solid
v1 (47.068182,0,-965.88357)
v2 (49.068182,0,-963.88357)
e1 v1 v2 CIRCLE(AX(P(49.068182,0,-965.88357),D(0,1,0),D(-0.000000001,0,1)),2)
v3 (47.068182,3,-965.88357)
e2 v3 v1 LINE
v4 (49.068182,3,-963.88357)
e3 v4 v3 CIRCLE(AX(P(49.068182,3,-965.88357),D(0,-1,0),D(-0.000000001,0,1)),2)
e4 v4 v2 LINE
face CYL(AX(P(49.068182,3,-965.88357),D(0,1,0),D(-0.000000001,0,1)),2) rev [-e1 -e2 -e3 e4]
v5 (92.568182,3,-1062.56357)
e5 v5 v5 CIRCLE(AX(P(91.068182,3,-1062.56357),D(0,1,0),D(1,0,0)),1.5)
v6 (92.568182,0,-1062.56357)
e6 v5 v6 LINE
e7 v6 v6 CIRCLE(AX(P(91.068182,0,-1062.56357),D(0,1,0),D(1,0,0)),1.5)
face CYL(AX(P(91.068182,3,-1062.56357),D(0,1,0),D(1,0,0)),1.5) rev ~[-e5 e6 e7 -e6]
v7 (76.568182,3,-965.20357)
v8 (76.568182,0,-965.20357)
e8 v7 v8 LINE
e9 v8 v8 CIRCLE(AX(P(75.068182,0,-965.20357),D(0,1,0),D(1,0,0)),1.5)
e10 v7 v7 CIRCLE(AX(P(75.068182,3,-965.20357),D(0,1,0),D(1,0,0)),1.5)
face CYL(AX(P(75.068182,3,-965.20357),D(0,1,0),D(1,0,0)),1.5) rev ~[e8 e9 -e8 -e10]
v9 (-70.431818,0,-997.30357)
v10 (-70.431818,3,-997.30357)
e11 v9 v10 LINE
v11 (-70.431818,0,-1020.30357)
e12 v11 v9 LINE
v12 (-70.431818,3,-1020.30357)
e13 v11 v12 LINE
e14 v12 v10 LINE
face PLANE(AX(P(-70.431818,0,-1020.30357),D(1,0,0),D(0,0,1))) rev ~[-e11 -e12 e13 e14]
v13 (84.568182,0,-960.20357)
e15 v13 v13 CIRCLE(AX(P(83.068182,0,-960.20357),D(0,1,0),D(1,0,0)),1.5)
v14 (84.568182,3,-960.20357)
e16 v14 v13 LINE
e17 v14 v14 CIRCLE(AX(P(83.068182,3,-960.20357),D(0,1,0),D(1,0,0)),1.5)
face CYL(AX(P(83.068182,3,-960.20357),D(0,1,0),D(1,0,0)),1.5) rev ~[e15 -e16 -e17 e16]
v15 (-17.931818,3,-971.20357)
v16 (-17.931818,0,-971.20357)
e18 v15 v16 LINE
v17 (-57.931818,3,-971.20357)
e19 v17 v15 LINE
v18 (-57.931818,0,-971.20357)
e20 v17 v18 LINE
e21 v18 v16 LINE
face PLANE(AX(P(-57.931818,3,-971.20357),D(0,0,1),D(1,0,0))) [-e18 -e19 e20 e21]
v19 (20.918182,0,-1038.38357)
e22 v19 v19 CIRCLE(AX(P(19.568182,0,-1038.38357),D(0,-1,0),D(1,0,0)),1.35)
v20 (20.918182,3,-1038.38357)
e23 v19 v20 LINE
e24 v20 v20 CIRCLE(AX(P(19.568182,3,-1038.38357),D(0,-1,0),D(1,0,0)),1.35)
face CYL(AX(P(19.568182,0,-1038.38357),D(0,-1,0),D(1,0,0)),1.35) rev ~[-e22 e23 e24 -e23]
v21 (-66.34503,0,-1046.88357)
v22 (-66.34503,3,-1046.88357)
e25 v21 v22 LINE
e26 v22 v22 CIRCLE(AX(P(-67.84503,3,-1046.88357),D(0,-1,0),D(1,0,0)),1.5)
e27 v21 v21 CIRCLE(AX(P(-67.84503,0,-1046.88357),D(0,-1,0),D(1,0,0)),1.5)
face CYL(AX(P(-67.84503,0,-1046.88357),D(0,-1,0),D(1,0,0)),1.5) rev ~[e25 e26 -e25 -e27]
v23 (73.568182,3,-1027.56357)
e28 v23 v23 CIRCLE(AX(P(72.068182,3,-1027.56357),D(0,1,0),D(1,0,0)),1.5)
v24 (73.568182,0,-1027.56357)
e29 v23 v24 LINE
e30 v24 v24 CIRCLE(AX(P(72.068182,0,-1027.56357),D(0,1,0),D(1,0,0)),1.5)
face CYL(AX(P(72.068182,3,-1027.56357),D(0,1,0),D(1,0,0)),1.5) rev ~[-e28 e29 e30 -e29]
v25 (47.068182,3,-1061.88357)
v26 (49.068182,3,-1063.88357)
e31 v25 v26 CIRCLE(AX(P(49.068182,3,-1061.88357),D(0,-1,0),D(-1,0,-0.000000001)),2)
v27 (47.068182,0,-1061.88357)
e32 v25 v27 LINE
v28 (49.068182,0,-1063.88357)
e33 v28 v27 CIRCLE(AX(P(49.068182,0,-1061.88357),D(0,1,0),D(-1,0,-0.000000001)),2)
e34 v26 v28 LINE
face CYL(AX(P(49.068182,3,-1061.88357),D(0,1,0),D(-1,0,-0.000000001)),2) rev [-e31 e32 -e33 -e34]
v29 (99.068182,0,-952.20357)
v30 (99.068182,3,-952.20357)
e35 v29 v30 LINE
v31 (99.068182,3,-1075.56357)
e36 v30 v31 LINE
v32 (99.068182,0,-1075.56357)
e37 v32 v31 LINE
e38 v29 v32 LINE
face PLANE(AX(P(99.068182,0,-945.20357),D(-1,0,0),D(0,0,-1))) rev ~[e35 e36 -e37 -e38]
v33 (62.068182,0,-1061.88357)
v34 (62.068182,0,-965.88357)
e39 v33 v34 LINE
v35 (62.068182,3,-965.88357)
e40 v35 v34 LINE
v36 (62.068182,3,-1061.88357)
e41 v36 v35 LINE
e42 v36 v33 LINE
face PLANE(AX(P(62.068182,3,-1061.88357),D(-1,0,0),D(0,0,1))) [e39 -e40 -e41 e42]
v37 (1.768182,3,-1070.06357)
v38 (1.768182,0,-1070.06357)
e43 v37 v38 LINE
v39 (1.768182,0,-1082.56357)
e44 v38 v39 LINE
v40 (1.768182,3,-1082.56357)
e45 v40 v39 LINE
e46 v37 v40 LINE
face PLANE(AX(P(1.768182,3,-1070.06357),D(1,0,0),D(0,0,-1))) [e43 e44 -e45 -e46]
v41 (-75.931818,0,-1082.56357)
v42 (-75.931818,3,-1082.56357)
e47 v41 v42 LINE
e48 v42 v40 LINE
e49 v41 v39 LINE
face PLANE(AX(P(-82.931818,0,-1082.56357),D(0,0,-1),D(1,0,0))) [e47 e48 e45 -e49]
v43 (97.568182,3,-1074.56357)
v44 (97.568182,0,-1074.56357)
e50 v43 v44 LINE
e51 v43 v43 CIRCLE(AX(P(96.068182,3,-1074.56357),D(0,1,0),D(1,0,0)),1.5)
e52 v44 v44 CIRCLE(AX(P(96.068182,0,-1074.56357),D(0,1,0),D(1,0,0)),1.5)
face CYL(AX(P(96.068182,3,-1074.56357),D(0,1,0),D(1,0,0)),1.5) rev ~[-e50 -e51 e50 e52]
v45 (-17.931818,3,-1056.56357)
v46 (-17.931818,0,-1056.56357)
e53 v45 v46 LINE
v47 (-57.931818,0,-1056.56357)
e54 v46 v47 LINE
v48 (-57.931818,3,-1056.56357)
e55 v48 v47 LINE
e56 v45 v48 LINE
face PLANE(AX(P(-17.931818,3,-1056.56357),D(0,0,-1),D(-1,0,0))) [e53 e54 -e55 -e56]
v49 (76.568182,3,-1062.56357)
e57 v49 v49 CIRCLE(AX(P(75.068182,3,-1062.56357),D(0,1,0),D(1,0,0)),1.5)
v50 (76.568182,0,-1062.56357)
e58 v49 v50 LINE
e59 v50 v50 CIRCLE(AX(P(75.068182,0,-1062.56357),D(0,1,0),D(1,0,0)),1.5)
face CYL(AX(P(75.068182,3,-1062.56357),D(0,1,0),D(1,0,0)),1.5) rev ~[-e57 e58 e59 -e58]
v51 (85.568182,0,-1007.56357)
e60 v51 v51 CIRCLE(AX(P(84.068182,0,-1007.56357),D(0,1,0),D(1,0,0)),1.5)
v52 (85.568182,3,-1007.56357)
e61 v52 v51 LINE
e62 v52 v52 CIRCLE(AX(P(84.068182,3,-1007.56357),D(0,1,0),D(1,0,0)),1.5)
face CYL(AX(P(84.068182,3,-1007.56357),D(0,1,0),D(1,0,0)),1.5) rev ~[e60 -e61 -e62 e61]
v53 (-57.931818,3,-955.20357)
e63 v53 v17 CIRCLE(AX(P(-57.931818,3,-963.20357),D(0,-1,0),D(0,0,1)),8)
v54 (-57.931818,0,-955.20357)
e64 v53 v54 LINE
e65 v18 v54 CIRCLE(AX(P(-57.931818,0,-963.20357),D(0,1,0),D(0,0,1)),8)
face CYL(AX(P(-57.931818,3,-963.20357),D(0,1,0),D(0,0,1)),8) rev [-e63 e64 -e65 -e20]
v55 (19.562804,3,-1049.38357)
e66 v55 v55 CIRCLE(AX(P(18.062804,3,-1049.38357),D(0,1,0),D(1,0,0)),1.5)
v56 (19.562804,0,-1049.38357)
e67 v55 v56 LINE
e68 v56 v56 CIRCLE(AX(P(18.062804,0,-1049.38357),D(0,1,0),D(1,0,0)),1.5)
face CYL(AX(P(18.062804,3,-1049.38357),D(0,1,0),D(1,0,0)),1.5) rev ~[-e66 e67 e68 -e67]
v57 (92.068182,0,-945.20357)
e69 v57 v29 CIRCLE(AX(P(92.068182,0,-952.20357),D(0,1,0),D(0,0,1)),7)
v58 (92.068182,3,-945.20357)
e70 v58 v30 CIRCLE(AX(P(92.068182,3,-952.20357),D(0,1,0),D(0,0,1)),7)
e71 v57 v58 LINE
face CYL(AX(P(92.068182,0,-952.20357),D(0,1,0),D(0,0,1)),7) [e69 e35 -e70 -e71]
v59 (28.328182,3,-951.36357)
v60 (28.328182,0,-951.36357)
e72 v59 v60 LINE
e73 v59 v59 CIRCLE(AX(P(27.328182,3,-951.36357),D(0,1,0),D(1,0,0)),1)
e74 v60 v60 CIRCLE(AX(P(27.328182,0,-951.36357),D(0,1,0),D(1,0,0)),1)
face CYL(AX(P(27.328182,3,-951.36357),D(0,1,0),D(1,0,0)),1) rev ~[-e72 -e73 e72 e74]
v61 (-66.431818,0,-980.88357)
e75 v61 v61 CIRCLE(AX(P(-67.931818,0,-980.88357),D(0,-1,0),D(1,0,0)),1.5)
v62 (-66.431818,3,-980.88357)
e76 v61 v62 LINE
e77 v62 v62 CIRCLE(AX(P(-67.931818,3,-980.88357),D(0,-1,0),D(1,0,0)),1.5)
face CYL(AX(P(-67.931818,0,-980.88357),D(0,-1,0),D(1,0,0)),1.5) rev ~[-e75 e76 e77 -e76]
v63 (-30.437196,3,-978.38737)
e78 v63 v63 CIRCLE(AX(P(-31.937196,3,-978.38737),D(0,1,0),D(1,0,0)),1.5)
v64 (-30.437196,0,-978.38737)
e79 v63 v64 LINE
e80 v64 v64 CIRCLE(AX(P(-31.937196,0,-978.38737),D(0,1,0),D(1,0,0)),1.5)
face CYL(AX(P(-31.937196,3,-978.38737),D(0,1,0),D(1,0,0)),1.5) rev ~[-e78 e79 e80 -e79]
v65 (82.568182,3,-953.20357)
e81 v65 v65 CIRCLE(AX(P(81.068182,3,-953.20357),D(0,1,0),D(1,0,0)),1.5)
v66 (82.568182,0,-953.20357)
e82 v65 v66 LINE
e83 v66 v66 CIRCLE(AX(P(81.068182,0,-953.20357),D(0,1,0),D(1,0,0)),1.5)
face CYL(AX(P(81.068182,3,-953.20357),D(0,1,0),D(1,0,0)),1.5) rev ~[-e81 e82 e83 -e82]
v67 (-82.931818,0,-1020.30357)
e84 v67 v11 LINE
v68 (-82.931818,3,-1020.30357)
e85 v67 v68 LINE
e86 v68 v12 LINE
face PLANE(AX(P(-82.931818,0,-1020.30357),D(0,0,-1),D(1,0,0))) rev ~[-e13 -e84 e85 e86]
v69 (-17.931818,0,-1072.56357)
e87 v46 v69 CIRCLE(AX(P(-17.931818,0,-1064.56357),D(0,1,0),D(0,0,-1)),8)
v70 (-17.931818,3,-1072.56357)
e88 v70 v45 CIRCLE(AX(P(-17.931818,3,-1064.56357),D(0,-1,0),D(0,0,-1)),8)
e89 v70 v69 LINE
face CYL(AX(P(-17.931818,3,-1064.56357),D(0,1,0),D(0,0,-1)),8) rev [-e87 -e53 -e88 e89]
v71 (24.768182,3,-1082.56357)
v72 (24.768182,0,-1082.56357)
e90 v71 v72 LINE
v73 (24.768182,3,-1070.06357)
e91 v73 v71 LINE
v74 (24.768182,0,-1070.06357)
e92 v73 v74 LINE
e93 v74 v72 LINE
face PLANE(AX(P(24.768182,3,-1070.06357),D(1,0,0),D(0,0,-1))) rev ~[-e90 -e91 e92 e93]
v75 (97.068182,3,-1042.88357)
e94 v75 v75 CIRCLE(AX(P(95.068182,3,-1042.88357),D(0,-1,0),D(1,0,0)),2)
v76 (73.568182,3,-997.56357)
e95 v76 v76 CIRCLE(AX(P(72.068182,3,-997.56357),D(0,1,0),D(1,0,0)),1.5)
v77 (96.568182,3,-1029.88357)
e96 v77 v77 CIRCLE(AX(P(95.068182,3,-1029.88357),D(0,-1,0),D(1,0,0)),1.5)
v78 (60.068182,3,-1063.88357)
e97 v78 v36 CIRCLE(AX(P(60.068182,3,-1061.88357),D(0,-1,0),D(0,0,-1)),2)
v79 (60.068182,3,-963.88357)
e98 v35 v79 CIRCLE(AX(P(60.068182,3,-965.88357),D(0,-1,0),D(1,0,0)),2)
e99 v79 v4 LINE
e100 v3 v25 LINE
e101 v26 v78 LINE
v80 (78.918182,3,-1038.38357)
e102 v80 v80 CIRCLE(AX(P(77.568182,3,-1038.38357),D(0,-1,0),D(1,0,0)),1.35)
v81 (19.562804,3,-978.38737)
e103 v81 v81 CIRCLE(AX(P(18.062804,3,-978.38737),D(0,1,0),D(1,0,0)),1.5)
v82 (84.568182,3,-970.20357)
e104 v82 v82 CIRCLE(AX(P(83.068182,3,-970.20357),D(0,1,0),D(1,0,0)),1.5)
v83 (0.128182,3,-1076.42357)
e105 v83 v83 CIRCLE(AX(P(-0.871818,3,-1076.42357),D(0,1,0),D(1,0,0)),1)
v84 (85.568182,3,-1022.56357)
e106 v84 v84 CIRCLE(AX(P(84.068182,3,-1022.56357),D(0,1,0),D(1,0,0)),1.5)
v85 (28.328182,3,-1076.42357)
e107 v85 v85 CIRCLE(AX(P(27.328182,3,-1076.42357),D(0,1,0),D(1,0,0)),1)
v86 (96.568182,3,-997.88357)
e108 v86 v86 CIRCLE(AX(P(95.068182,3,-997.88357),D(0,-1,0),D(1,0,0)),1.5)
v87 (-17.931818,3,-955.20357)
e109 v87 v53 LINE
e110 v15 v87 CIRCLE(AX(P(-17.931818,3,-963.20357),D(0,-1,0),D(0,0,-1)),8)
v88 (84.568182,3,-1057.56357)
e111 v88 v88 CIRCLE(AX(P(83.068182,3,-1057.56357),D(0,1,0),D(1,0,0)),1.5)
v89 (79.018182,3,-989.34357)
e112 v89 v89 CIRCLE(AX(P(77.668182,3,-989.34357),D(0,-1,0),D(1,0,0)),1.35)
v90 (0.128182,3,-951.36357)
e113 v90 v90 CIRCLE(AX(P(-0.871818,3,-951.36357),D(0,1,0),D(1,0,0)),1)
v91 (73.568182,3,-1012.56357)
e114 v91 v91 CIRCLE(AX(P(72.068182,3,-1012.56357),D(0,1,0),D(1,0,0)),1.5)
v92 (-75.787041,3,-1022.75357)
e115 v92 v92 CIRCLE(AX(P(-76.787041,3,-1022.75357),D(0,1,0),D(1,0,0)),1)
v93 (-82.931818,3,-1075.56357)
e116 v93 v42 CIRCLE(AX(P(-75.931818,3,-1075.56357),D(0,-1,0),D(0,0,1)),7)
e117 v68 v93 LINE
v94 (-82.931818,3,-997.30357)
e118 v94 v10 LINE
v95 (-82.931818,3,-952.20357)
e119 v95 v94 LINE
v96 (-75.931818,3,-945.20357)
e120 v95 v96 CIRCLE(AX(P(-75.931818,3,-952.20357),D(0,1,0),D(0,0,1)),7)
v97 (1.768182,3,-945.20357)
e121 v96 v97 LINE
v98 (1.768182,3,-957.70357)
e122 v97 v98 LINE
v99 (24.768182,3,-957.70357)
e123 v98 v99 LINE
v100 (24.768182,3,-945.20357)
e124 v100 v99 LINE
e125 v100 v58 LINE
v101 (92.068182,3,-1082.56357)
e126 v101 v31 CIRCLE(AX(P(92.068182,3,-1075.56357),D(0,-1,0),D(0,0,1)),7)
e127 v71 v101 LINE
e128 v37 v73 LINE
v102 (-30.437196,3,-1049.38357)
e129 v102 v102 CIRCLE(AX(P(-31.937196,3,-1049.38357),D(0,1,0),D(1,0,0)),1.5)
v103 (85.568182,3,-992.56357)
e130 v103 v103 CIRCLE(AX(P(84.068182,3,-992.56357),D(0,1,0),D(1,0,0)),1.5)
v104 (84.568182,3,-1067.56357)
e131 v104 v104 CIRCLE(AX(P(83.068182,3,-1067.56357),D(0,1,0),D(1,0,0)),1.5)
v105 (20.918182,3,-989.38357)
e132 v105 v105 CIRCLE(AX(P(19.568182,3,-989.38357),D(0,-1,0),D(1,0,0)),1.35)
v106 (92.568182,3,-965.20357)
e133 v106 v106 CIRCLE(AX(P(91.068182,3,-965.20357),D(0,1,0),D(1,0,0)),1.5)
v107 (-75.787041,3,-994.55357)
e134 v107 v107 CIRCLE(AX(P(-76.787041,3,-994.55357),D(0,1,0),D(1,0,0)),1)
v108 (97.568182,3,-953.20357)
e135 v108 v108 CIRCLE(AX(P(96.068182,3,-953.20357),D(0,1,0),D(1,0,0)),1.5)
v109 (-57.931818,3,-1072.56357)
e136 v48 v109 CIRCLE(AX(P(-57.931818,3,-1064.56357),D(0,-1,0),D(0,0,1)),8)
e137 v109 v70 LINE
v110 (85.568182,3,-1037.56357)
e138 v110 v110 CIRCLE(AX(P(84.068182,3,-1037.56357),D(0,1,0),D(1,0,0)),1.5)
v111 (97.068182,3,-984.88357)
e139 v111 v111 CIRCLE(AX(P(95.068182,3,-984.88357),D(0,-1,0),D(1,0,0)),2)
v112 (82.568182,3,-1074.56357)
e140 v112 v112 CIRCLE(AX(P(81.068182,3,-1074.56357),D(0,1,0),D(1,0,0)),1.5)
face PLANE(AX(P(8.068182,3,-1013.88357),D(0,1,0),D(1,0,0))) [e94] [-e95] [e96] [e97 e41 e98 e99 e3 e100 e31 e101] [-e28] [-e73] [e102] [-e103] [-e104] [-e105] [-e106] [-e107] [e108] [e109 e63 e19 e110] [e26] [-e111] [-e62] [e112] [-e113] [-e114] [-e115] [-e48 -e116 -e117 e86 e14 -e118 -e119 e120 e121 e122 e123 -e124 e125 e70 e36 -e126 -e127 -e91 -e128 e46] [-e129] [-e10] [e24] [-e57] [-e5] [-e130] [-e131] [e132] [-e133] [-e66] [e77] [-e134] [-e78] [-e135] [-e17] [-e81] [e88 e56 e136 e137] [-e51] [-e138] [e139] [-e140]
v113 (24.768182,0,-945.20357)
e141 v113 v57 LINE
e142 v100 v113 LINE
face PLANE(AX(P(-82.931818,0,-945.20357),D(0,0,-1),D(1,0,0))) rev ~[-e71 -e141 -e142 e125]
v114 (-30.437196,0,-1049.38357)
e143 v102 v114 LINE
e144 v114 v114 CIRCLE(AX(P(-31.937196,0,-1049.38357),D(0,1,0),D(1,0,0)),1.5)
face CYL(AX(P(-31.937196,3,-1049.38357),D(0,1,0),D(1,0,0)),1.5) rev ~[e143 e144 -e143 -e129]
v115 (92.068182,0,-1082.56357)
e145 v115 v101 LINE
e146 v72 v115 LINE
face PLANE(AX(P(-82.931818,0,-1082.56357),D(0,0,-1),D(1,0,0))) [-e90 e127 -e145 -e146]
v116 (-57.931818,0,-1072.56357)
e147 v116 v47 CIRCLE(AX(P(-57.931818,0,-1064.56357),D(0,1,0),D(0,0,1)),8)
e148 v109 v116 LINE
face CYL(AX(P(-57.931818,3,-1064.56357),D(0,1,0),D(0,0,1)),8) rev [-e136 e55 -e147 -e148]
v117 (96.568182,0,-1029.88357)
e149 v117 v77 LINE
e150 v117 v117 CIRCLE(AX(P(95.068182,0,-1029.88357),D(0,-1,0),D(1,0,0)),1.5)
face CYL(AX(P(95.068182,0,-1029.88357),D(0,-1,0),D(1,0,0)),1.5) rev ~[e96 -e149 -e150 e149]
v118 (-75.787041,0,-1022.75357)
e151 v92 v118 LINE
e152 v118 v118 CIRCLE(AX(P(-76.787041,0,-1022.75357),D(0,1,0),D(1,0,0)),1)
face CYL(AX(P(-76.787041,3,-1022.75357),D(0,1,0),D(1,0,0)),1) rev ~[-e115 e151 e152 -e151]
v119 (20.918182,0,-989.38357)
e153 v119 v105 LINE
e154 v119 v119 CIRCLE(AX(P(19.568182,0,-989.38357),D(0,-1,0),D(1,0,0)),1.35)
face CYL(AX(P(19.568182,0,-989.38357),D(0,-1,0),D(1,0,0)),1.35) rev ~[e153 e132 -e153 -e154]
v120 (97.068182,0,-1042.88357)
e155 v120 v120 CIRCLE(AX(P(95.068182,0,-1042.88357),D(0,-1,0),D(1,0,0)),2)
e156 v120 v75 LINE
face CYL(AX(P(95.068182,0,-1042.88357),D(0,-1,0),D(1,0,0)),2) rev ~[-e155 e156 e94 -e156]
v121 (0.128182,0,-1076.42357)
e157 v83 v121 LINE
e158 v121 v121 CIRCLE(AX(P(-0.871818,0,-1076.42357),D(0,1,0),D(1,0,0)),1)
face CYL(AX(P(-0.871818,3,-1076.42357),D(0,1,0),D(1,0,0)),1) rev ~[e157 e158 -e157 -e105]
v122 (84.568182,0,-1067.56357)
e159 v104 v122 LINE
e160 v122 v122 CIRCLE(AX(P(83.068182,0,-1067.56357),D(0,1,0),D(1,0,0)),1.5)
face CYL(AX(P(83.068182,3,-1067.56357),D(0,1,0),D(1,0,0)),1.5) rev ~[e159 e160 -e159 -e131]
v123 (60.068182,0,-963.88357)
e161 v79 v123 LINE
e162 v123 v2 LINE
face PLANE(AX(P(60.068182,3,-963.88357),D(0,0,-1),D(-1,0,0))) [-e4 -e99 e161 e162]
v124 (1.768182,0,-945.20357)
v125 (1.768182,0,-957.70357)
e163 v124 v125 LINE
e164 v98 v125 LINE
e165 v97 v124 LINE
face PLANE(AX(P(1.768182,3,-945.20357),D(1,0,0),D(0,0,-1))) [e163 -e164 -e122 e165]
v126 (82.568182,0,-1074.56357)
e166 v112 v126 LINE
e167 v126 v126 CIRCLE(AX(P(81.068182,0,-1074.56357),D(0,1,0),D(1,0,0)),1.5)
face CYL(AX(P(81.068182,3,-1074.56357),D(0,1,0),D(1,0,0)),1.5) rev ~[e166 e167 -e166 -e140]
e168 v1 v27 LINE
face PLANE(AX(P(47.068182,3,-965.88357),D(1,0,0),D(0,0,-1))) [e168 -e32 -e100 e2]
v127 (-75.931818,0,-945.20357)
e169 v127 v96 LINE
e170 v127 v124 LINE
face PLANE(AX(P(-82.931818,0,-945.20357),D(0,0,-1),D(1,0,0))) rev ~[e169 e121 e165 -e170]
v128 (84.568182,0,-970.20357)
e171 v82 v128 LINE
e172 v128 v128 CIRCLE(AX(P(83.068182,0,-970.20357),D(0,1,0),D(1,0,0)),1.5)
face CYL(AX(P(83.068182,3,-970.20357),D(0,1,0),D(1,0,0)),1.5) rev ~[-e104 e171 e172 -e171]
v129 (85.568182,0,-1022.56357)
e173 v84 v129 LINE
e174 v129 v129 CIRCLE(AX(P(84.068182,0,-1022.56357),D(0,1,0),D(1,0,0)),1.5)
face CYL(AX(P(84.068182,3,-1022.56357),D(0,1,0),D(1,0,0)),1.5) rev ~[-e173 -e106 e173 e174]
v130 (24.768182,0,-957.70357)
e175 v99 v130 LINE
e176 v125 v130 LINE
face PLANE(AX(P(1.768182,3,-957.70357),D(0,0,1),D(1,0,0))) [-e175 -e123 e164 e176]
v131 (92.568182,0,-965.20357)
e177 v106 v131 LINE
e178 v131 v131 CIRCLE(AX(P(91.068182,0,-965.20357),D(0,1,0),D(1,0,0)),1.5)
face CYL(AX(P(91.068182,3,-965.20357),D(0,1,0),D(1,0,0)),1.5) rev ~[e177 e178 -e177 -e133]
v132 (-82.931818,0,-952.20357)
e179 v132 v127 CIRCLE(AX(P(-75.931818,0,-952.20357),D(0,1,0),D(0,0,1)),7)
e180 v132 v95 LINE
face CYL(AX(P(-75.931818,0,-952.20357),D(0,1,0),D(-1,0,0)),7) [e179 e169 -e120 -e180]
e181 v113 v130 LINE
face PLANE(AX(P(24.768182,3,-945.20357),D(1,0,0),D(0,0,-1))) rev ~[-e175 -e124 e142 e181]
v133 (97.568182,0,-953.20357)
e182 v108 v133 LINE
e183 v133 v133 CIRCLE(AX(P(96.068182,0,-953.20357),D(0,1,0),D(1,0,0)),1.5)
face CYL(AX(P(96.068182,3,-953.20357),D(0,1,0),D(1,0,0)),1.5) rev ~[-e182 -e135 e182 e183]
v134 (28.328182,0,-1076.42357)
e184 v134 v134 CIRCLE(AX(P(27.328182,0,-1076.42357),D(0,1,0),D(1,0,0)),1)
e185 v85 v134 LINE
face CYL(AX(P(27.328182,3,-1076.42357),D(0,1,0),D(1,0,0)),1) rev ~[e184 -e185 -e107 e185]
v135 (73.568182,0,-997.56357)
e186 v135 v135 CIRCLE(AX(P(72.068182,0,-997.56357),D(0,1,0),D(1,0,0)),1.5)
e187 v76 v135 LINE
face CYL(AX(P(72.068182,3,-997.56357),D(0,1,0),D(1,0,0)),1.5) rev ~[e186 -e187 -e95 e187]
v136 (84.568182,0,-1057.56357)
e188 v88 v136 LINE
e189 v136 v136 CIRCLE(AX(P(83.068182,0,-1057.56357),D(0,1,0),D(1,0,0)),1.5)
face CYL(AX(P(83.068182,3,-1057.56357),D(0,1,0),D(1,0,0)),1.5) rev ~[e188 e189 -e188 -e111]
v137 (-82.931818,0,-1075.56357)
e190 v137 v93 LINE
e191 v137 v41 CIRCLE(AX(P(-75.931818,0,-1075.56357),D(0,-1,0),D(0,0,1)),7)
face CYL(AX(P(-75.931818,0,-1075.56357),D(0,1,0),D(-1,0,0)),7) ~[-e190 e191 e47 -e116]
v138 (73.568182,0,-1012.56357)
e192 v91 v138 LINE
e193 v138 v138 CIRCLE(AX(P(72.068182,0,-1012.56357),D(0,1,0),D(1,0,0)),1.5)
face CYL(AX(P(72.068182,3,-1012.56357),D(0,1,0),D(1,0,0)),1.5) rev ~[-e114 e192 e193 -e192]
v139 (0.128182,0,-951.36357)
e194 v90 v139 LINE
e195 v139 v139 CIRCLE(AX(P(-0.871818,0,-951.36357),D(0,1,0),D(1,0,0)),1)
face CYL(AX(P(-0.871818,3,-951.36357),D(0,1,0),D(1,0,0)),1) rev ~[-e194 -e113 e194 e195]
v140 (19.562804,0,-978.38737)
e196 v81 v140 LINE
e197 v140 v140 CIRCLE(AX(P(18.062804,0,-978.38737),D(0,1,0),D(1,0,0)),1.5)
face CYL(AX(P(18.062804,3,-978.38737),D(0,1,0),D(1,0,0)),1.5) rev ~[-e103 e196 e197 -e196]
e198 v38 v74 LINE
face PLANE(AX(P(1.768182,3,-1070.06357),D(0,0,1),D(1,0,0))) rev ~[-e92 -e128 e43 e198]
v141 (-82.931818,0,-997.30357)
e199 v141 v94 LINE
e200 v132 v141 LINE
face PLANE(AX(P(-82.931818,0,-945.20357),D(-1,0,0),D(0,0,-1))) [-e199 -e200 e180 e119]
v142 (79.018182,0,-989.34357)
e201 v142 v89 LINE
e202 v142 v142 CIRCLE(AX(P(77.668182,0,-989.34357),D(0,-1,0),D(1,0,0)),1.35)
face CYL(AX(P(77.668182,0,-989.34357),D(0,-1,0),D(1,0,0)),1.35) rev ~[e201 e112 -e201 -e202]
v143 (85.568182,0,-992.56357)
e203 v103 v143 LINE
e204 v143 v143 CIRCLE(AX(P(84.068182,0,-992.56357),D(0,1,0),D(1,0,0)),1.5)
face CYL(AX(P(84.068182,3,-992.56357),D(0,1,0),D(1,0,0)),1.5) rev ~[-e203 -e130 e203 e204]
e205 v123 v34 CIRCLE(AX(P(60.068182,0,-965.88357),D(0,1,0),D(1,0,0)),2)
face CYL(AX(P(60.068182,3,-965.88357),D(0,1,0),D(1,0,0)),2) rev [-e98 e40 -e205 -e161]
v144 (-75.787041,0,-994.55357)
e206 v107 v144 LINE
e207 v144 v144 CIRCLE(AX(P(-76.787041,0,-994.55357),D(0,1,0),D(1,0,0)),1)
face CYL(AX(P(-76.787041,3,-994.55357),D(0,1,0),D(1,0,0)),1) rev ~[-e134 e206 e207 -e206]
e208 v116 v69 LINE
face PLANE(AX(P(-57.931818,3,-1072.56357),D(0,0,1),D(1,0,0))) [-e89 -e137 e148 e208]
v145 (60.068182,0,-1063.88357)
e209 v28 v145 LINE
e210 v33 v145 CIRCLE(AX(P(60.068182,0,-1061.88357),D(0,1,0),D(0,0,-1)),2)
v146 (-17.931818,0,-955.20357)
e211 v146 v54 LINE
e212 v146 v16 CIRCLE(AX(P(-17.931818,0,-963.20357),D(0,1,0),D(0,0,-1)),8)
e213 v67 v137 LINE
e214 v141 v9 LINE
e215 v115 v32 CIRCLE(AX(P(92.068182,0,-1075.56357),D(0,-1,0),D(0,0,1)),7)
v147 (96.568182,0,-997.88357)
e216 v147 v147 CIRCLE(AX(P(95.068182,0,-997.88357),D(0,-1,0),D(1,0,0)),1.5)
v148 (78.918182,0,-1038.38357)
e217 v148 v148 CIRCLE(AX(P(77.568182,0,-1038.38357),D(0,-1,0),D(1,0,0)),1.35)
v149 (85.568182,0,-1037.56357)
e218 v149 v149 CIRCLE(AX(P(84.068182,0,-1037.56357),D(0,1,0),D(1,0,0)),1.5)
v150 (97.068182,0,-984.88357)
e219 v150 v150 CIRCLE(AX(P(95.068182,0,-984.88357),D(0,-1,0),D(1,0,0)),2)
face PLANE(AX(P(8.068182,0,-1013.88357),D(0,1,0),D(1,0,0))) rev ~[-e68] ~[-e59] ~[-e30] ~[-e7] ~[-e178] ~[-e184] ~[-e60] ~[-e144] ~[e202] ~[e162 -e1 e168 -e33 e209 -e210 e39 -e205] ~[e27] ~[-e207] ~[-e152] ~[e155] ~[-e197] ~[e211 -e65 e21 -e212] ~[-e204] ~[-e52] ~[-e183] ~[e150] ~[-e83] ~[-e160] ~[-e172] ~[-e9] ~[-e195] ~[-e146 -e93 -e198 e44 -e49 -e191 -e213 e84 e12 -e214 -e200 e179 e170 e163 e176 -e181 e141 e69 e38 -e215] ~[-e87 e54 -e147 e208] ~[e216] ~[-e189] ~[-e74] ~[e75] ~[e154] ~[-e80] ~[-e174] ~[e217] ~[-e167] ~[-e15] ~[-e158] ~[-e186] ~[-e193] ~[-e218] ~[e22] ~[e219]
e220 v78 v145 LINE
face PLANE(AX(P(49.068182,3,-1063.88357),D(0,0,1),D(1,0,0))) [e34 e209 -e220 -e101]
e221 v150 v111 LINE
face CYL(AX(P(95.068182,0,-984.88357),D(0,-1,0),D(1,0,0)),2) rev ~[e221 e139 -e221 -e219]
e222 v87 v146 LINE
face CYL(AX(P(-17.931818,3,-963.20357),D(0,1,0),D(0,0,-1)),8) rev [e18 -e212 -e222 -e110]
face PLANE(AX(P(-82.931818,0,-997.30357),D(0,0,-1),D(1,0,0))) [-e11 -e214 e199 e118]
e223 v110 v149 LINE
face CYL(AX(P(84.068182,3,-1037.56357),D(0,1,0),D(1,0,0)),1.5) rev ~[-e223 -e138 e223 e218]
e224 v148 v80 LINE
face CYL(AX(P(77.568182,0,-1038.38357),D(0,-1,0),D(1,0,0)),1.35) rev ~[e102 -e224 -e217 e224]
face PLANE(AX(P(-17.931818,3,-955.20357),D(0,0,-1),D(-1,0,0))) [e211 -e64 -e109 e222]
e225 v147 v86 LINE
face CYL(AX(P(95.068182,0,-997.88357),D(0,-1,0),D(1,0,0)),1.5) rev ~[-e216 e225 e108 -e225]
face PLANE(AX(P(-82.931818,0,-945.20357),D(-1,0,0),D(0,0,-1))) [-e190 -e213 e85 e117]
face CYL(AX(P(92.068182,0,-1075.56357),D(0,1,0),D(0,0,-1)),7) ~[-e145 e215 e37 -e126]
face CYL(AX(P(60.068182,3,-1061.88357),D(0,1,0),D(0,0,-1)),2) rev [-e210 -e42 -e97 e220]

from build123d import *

# Parameters (mm, degrees)
SKETCH1_W           = 182
SKETCH1_H           = 137.36
BOSS_EXTRUDE1_DEPTH = 3
SKETCH2_R           = 1.5
CUT_EXTRUDE1_DEPTH  = 4
SKETCH3_R           = 1
CUT_EXTRUDE2_DEPTH  = 4
SKETCH4_W           = 23
SKETCH4_H           = 12.5
CUT_EXTRUDE3_DEPTH  = 4
SKETCH5_R           = 1.35
CUT_EXTRUDE4_DEPTH  = 4
SKETCH6_R           = 1.5
CUT_EXTRUDE5_DEPTH  = 4
CUT_EXTRUDE6_DEPTH  = 4
FILLET1_R           = 7
SKETCH10_R          = 1.5
CUT_EXTRUDE9_DEPTH  = 4
SKETCH11_R          = 1.5
CUT_EXTRUDE10_DEPTH = 4
CUT_EXTRUDE11_REACH = 5
SKETCH13_W          = 12.5
SKETCH13_H          = 23
SKETCH14_R          = 1
CUT_EXTRUDE12_DEPTH = 4
SKETCH15_R          = 2
CUT_EXTRUDE13_DEPTH = 4
SKETCH16_R          = 1.5
CUT_EXTRUDE14_DEPTH = 4


with BuildPart() as part:
    # Sketch1 → Boss-Extrude1 (new body)
    with BuildSketch(Plane(origin=(0, 0, 0), x_dir=(1, 0, 0), z_dir=(0, 1, 0))):
        with Locations((8.068181818, 1013.883570356)):
            Rectangle(SKETCH1_W, SKETCH1_H)
    extrude(amount=BOSS_EXTRUDE1_DEPTH)

    # Sketch2 → Cut-Extrude1 (cut, through all)
    with BuildSketch(Plane.XZ):
        with Locations((95.068181818, -1029.883570356)):
            Circle(SKETCH2_R)
        with Locations((95.068181818, -997.883570356)):
            Circle(SKETCH2_R)
    extrude(amount=-CUT_EXTRUDE1_DEPTH, mode=Mode.SUBTRACT)

    # Sketch3 → Cut-Extrude2 (cut, through all)
    with BuildSketch(Plane(origin=(0, 3, 0), x_dir=(1, 0, 0), z_dir=(0, 1, 0))):
        with Locations((27.328181818, 1076.423570356)):
            Circle(SKETCH3_R)
        with Locations((-0.871818182, 1076.423570356)):
            Circle(SKETCH3_R)
        with Locations((-0.871818182, 951.363570356)):
            Circle(SKETCH3_R)
        with Locations((27.328181818, 951.363570356)):
            Circle(SKETCH3_R)
    extrude(amount=-CUT_EXTRUDE2_DEPTH, mode=Mode.SUBTRACT)

    # Sketch4 → Cut-Extrude3 (cut, through all)
    with BuildSketch(Plane(origin=(0, 3, 0), x_dir=(1, 0, 0), z_dir=(0, 1, 0))):
        with Locations((13.268181818, 951.453570356)):
            Rectangle(SKETCH4_W, SKETCH4_H)
        with Locations((13.268181818, 1076.313570356)):
            Rectangle(SKETCH4_W, SKETCH4_H)
    extrude(amount=-CUT_EXTRUDE3_DEPTH, mode=Mode.SUBTRACT)

    # Sketch5 → Cut-Extrude4 (cut, through all)
    with BuildSketch(Plane.XZ):
        with Locations((77.568181818, -1038.383570356)):
            Circle(SKETCH5_R)
        with Locations((77.668181818, -989.343570356)):
            Circle(SKETCH5_R)
        with Locations((19.568181818, -1038.383570356)):
            Circle(SKETCH5_R)
        with Locations((19.568181818, -989.383570356)):
            Circle(SKETCH5_R)
    extrude(amount=-CUT_EXTRUDE4_DEPTH, mode=Mode.SUBTRACT)

    # Sketch6 → Cut-Extrude5 (cut, through all)
    with BuildSketch(Plane(origin=(0, 3, 0), x_dir=(1, 0, 0), z_dir=(0, 1, 0))):
        with Locations((18.062803793, 1049.383570356)):
            Circle(SKETCH6_R)
        with Locations((-31.937196207, 1049.383570356)):
            Circle(SKETCH6_R)
        with Locations((-31.937196207, 978.387370356)):
            Circle(SKETCH6_R)
        with Locations((18.062803793, 978.387370356)):
            Circle(SKETCH6_R)
    extrude(amount=-CUT_EXTRUDE5_DEPTH, mode=Mode.SUBTRACT)

    # Sketch7 → Cut-Extrude6 (cut, through all)
    with BuildSketch(Plane(origin=(0, 3, 0), x_dir=(1, 0, 0), z_dir=(0, 1, 0))):
        with BuildLine():
            Line((49.068181818, 1063.883570356), (60.068181818, 1063.883570356))
            ThreePointArc((60.068181818, 1063.883570356), (61.482395381, 1063.297783918), (62.068181818, 1061.883570356))
            Line((62.068181818, 1061.883570356), (62.068181818, 965.883570356))
            ThreePointArc((62.068181818, 965.883570356), (61.482395381, 964.469356794), (60.068181818, 963.883570356))
            Line((60.068181818, 963.883570356), (49.068181818, 963.883570356))
            ThreePointArc((49.068181818, 963.883570356), (47.653968256, 964.469356794), (47.068181818, 965.883570356))
            Line((47.068181818, 965.883570356), (47.068181818, 1061.883570356))
            ThreePointArc((47.068181818, 1061.883570356), (47.653968256, 1063.297783918), (49.068181818, 1063.883570356))
        make_face()
        with BuildLine():
            Line((-17.931818182, 1056.563570356), (-57.931818182, 1056.563570356))
            ThreePointArc((-57.931818182, 1056.563570356), (-65.931818182, 1064.563570356), (-57.931818182, 1072.563570356))
            Line((-57.931818182, 1072.563570356), (-17.931818182, 1072.563570356))
            ThreePointArc((-17.931818182, 1072.563570356), (-9.931818182, 1064.563570356), (-17.931818182, 1056.563570356))
        make_face()
        with BuildLine():
            Line((-17.931818182, 955.203570356), (-57.931818182, 955.203570356))
            ThreePointArc((-57.931818182, 955.203570356), (-65.931818182, 963.203570356), (-57.931818182, 971.203570356))
            Line((-57.931818182, 971.203570356), (-17.931818182, 971.203570356))
            ThreePointArc((-17.931818182, 971.203570356), (-9.931818182, 963.203570356), (-17.931818182, 955.203570356))
        make_face()
    extrude(amount=-CUT_EXTRUDE6_DEPTH, mode=Mode.SUBTRACT)

    # Fillet1
    fillet1_edges = [part.edges().sort_by_distance(p)[0] for p in [
        (-82.931818182, 1.5, -1082.563570356),
        (99.068181818, 1.5, -1082.563570356),
        (99.068181818, 1.5, -945.203570356),
        (-82.931818182, 1.5, -945.203570356),
    ]]
    fillet(fillet1_edges, radius=FILLET1_R)

    # Sketch10 → Cut-Extrude9 (cut, through all)
    with BuildSketch(Plane(origin=(0, 3, 0), x_dir=(1, 0, 0), z_dir=(0, 1, 0))):
        with Locations((96.068181818, 1074.563570356)):
            Circle(SKETCH10_R)
        with Locations((81.068181818, 1074.563570356)):
            Circle(SKETCH10_R)
        with Locations((81.068181818, 953.203570356)):
            Circle(SKETCH10_R)
        with Locations((96.068181818, 953.203570356)):
            Circle(SKETCH10_R)
    extrude(amount=-CUT_EXTRUDE9_DEPTH, mode=Mode.SUBTRACT)

    # Sketch11 → Cut-Extrude10 (cut, through all)
    with BuildSketch(Plane.XZ):
        with Locations((-67.845029609, -1046.883570356)):
            Circle(SKETCH11_R)
        with Locations((-67.931818182, -980.883570356)):
            Circle(SKETCH11_R)
    extrude(amount=-CUT_EXTRUDE10_DEPTH, mode=Mode.SUBTRACT)

    # Sketch13 → Cut-Extrude11 (cut, up to next)
    with BuildSketch(Plane.XZ, mode=Mode.PRIVATE) as cut_extrude11_sk1:
        with Locations((-76.681818182, -1008.803570356)):
            Rectangle(SKETCH13_W, SKETCH13_H)
    cut_extrude11_tool1 = extrude(cut_extrude11_sk1.sketch, amount=-CUT_EXTRUDE11_REACH, mode=Mode.PRIVATE) & part.part
    add(cut_extrude11_tool1.solids().sort_by_distance((-76.681818, 0, -1008.80357))[0], mode=Mode.SUBTRACT)

    # Sketch14 → Cut-Extrude12 (cut, through all)
    with BuildSketch(Plane(origin=(0, 3, 0), x_dir=(1, 0, 0), z_dir=(0, 1, 0))):
        with Locations((-76.787040817, 994.553570356)):
            Circle(SKETCH14_R)
        with Locations((-76.787040817, 1022.753570356)):
            Circle(SKETCH14_R)
    extrude(amount=-CUT_EXTRUDE12_DEPTH, mode=Mode.SUBTRACT)

    # Sketch15 → Cut-Extrude13 (cut, through all)
    with BuildSketch(Plane.XZ):
        with Locations((95.068181818, -1042.883570356)):
            Circle(SKETCH15_R)
        with Locations((95.068181818, -984.883570356)):
            Circle(SKETCH15_R)
    extrude(amount=-CUT_EXTRUDE13_DEPTH, mode=Mode.SUBTRACT)

    # Sketch16 → Cut-Extrude14 (cut, through all)
    with BuildSketch(Plane(origin=(0, 3, 0), x_dir=(1, 0, 0), z_dir=(0, 1, 0))):
        with Locations((72.068181818, 1027.563570356)):
            Circle(SKETCH16_R)
        with Locations((72.068181818, 1012.563570356)):
            Circle(SKETCH16_R)
        with Locations((72.068181818, 997.563570356)):
            Circle(SKETCH16_R)
        with Locations((84.068181818, 1007.563570356)):
            Circle(SKETCH16_R)
        with Locations((84.068181818, 1022.563570356)):
            Circle(SKETCH16_R)
        with Locations((84.068181818, 1037.563570356)):
            Circle(SKETCH16_R)
        with Locations((75.068181818, 1062.563570356)):
            Circle(SKETCH16_R)
        with Locations((91.068181818, 1062.563570356)):
            Circle(SKETCH16_R)
        with Locations((83.068181818, 1057.563570356)):
            Circle(SKETCH16_R)
        with Locations((83.068181818, 1067.563570356)):
            Circle(SKETCH16_R)
        with Locations((91.068181818, 965.203570356)):
            Circle(SKETCH16_R)
        with Locations((75.068181818, 965.203570356)):
            Circle(SKETCH16_R)
        with Locations((83.068181818, 970.203570356)):
            Circle(SKETCH16_R)
        with Locations((83.068181818, 960.203570356)):
            Circle(SKETCH16_R)
        with Locations((84.068181818, 992.563570356)):
            Circle(SKETCH16_R)
    extrude(amount=-CUT_EXTRUDE14_DEPTH, mode=Mode.SUBTRACT)


solid = part.part
